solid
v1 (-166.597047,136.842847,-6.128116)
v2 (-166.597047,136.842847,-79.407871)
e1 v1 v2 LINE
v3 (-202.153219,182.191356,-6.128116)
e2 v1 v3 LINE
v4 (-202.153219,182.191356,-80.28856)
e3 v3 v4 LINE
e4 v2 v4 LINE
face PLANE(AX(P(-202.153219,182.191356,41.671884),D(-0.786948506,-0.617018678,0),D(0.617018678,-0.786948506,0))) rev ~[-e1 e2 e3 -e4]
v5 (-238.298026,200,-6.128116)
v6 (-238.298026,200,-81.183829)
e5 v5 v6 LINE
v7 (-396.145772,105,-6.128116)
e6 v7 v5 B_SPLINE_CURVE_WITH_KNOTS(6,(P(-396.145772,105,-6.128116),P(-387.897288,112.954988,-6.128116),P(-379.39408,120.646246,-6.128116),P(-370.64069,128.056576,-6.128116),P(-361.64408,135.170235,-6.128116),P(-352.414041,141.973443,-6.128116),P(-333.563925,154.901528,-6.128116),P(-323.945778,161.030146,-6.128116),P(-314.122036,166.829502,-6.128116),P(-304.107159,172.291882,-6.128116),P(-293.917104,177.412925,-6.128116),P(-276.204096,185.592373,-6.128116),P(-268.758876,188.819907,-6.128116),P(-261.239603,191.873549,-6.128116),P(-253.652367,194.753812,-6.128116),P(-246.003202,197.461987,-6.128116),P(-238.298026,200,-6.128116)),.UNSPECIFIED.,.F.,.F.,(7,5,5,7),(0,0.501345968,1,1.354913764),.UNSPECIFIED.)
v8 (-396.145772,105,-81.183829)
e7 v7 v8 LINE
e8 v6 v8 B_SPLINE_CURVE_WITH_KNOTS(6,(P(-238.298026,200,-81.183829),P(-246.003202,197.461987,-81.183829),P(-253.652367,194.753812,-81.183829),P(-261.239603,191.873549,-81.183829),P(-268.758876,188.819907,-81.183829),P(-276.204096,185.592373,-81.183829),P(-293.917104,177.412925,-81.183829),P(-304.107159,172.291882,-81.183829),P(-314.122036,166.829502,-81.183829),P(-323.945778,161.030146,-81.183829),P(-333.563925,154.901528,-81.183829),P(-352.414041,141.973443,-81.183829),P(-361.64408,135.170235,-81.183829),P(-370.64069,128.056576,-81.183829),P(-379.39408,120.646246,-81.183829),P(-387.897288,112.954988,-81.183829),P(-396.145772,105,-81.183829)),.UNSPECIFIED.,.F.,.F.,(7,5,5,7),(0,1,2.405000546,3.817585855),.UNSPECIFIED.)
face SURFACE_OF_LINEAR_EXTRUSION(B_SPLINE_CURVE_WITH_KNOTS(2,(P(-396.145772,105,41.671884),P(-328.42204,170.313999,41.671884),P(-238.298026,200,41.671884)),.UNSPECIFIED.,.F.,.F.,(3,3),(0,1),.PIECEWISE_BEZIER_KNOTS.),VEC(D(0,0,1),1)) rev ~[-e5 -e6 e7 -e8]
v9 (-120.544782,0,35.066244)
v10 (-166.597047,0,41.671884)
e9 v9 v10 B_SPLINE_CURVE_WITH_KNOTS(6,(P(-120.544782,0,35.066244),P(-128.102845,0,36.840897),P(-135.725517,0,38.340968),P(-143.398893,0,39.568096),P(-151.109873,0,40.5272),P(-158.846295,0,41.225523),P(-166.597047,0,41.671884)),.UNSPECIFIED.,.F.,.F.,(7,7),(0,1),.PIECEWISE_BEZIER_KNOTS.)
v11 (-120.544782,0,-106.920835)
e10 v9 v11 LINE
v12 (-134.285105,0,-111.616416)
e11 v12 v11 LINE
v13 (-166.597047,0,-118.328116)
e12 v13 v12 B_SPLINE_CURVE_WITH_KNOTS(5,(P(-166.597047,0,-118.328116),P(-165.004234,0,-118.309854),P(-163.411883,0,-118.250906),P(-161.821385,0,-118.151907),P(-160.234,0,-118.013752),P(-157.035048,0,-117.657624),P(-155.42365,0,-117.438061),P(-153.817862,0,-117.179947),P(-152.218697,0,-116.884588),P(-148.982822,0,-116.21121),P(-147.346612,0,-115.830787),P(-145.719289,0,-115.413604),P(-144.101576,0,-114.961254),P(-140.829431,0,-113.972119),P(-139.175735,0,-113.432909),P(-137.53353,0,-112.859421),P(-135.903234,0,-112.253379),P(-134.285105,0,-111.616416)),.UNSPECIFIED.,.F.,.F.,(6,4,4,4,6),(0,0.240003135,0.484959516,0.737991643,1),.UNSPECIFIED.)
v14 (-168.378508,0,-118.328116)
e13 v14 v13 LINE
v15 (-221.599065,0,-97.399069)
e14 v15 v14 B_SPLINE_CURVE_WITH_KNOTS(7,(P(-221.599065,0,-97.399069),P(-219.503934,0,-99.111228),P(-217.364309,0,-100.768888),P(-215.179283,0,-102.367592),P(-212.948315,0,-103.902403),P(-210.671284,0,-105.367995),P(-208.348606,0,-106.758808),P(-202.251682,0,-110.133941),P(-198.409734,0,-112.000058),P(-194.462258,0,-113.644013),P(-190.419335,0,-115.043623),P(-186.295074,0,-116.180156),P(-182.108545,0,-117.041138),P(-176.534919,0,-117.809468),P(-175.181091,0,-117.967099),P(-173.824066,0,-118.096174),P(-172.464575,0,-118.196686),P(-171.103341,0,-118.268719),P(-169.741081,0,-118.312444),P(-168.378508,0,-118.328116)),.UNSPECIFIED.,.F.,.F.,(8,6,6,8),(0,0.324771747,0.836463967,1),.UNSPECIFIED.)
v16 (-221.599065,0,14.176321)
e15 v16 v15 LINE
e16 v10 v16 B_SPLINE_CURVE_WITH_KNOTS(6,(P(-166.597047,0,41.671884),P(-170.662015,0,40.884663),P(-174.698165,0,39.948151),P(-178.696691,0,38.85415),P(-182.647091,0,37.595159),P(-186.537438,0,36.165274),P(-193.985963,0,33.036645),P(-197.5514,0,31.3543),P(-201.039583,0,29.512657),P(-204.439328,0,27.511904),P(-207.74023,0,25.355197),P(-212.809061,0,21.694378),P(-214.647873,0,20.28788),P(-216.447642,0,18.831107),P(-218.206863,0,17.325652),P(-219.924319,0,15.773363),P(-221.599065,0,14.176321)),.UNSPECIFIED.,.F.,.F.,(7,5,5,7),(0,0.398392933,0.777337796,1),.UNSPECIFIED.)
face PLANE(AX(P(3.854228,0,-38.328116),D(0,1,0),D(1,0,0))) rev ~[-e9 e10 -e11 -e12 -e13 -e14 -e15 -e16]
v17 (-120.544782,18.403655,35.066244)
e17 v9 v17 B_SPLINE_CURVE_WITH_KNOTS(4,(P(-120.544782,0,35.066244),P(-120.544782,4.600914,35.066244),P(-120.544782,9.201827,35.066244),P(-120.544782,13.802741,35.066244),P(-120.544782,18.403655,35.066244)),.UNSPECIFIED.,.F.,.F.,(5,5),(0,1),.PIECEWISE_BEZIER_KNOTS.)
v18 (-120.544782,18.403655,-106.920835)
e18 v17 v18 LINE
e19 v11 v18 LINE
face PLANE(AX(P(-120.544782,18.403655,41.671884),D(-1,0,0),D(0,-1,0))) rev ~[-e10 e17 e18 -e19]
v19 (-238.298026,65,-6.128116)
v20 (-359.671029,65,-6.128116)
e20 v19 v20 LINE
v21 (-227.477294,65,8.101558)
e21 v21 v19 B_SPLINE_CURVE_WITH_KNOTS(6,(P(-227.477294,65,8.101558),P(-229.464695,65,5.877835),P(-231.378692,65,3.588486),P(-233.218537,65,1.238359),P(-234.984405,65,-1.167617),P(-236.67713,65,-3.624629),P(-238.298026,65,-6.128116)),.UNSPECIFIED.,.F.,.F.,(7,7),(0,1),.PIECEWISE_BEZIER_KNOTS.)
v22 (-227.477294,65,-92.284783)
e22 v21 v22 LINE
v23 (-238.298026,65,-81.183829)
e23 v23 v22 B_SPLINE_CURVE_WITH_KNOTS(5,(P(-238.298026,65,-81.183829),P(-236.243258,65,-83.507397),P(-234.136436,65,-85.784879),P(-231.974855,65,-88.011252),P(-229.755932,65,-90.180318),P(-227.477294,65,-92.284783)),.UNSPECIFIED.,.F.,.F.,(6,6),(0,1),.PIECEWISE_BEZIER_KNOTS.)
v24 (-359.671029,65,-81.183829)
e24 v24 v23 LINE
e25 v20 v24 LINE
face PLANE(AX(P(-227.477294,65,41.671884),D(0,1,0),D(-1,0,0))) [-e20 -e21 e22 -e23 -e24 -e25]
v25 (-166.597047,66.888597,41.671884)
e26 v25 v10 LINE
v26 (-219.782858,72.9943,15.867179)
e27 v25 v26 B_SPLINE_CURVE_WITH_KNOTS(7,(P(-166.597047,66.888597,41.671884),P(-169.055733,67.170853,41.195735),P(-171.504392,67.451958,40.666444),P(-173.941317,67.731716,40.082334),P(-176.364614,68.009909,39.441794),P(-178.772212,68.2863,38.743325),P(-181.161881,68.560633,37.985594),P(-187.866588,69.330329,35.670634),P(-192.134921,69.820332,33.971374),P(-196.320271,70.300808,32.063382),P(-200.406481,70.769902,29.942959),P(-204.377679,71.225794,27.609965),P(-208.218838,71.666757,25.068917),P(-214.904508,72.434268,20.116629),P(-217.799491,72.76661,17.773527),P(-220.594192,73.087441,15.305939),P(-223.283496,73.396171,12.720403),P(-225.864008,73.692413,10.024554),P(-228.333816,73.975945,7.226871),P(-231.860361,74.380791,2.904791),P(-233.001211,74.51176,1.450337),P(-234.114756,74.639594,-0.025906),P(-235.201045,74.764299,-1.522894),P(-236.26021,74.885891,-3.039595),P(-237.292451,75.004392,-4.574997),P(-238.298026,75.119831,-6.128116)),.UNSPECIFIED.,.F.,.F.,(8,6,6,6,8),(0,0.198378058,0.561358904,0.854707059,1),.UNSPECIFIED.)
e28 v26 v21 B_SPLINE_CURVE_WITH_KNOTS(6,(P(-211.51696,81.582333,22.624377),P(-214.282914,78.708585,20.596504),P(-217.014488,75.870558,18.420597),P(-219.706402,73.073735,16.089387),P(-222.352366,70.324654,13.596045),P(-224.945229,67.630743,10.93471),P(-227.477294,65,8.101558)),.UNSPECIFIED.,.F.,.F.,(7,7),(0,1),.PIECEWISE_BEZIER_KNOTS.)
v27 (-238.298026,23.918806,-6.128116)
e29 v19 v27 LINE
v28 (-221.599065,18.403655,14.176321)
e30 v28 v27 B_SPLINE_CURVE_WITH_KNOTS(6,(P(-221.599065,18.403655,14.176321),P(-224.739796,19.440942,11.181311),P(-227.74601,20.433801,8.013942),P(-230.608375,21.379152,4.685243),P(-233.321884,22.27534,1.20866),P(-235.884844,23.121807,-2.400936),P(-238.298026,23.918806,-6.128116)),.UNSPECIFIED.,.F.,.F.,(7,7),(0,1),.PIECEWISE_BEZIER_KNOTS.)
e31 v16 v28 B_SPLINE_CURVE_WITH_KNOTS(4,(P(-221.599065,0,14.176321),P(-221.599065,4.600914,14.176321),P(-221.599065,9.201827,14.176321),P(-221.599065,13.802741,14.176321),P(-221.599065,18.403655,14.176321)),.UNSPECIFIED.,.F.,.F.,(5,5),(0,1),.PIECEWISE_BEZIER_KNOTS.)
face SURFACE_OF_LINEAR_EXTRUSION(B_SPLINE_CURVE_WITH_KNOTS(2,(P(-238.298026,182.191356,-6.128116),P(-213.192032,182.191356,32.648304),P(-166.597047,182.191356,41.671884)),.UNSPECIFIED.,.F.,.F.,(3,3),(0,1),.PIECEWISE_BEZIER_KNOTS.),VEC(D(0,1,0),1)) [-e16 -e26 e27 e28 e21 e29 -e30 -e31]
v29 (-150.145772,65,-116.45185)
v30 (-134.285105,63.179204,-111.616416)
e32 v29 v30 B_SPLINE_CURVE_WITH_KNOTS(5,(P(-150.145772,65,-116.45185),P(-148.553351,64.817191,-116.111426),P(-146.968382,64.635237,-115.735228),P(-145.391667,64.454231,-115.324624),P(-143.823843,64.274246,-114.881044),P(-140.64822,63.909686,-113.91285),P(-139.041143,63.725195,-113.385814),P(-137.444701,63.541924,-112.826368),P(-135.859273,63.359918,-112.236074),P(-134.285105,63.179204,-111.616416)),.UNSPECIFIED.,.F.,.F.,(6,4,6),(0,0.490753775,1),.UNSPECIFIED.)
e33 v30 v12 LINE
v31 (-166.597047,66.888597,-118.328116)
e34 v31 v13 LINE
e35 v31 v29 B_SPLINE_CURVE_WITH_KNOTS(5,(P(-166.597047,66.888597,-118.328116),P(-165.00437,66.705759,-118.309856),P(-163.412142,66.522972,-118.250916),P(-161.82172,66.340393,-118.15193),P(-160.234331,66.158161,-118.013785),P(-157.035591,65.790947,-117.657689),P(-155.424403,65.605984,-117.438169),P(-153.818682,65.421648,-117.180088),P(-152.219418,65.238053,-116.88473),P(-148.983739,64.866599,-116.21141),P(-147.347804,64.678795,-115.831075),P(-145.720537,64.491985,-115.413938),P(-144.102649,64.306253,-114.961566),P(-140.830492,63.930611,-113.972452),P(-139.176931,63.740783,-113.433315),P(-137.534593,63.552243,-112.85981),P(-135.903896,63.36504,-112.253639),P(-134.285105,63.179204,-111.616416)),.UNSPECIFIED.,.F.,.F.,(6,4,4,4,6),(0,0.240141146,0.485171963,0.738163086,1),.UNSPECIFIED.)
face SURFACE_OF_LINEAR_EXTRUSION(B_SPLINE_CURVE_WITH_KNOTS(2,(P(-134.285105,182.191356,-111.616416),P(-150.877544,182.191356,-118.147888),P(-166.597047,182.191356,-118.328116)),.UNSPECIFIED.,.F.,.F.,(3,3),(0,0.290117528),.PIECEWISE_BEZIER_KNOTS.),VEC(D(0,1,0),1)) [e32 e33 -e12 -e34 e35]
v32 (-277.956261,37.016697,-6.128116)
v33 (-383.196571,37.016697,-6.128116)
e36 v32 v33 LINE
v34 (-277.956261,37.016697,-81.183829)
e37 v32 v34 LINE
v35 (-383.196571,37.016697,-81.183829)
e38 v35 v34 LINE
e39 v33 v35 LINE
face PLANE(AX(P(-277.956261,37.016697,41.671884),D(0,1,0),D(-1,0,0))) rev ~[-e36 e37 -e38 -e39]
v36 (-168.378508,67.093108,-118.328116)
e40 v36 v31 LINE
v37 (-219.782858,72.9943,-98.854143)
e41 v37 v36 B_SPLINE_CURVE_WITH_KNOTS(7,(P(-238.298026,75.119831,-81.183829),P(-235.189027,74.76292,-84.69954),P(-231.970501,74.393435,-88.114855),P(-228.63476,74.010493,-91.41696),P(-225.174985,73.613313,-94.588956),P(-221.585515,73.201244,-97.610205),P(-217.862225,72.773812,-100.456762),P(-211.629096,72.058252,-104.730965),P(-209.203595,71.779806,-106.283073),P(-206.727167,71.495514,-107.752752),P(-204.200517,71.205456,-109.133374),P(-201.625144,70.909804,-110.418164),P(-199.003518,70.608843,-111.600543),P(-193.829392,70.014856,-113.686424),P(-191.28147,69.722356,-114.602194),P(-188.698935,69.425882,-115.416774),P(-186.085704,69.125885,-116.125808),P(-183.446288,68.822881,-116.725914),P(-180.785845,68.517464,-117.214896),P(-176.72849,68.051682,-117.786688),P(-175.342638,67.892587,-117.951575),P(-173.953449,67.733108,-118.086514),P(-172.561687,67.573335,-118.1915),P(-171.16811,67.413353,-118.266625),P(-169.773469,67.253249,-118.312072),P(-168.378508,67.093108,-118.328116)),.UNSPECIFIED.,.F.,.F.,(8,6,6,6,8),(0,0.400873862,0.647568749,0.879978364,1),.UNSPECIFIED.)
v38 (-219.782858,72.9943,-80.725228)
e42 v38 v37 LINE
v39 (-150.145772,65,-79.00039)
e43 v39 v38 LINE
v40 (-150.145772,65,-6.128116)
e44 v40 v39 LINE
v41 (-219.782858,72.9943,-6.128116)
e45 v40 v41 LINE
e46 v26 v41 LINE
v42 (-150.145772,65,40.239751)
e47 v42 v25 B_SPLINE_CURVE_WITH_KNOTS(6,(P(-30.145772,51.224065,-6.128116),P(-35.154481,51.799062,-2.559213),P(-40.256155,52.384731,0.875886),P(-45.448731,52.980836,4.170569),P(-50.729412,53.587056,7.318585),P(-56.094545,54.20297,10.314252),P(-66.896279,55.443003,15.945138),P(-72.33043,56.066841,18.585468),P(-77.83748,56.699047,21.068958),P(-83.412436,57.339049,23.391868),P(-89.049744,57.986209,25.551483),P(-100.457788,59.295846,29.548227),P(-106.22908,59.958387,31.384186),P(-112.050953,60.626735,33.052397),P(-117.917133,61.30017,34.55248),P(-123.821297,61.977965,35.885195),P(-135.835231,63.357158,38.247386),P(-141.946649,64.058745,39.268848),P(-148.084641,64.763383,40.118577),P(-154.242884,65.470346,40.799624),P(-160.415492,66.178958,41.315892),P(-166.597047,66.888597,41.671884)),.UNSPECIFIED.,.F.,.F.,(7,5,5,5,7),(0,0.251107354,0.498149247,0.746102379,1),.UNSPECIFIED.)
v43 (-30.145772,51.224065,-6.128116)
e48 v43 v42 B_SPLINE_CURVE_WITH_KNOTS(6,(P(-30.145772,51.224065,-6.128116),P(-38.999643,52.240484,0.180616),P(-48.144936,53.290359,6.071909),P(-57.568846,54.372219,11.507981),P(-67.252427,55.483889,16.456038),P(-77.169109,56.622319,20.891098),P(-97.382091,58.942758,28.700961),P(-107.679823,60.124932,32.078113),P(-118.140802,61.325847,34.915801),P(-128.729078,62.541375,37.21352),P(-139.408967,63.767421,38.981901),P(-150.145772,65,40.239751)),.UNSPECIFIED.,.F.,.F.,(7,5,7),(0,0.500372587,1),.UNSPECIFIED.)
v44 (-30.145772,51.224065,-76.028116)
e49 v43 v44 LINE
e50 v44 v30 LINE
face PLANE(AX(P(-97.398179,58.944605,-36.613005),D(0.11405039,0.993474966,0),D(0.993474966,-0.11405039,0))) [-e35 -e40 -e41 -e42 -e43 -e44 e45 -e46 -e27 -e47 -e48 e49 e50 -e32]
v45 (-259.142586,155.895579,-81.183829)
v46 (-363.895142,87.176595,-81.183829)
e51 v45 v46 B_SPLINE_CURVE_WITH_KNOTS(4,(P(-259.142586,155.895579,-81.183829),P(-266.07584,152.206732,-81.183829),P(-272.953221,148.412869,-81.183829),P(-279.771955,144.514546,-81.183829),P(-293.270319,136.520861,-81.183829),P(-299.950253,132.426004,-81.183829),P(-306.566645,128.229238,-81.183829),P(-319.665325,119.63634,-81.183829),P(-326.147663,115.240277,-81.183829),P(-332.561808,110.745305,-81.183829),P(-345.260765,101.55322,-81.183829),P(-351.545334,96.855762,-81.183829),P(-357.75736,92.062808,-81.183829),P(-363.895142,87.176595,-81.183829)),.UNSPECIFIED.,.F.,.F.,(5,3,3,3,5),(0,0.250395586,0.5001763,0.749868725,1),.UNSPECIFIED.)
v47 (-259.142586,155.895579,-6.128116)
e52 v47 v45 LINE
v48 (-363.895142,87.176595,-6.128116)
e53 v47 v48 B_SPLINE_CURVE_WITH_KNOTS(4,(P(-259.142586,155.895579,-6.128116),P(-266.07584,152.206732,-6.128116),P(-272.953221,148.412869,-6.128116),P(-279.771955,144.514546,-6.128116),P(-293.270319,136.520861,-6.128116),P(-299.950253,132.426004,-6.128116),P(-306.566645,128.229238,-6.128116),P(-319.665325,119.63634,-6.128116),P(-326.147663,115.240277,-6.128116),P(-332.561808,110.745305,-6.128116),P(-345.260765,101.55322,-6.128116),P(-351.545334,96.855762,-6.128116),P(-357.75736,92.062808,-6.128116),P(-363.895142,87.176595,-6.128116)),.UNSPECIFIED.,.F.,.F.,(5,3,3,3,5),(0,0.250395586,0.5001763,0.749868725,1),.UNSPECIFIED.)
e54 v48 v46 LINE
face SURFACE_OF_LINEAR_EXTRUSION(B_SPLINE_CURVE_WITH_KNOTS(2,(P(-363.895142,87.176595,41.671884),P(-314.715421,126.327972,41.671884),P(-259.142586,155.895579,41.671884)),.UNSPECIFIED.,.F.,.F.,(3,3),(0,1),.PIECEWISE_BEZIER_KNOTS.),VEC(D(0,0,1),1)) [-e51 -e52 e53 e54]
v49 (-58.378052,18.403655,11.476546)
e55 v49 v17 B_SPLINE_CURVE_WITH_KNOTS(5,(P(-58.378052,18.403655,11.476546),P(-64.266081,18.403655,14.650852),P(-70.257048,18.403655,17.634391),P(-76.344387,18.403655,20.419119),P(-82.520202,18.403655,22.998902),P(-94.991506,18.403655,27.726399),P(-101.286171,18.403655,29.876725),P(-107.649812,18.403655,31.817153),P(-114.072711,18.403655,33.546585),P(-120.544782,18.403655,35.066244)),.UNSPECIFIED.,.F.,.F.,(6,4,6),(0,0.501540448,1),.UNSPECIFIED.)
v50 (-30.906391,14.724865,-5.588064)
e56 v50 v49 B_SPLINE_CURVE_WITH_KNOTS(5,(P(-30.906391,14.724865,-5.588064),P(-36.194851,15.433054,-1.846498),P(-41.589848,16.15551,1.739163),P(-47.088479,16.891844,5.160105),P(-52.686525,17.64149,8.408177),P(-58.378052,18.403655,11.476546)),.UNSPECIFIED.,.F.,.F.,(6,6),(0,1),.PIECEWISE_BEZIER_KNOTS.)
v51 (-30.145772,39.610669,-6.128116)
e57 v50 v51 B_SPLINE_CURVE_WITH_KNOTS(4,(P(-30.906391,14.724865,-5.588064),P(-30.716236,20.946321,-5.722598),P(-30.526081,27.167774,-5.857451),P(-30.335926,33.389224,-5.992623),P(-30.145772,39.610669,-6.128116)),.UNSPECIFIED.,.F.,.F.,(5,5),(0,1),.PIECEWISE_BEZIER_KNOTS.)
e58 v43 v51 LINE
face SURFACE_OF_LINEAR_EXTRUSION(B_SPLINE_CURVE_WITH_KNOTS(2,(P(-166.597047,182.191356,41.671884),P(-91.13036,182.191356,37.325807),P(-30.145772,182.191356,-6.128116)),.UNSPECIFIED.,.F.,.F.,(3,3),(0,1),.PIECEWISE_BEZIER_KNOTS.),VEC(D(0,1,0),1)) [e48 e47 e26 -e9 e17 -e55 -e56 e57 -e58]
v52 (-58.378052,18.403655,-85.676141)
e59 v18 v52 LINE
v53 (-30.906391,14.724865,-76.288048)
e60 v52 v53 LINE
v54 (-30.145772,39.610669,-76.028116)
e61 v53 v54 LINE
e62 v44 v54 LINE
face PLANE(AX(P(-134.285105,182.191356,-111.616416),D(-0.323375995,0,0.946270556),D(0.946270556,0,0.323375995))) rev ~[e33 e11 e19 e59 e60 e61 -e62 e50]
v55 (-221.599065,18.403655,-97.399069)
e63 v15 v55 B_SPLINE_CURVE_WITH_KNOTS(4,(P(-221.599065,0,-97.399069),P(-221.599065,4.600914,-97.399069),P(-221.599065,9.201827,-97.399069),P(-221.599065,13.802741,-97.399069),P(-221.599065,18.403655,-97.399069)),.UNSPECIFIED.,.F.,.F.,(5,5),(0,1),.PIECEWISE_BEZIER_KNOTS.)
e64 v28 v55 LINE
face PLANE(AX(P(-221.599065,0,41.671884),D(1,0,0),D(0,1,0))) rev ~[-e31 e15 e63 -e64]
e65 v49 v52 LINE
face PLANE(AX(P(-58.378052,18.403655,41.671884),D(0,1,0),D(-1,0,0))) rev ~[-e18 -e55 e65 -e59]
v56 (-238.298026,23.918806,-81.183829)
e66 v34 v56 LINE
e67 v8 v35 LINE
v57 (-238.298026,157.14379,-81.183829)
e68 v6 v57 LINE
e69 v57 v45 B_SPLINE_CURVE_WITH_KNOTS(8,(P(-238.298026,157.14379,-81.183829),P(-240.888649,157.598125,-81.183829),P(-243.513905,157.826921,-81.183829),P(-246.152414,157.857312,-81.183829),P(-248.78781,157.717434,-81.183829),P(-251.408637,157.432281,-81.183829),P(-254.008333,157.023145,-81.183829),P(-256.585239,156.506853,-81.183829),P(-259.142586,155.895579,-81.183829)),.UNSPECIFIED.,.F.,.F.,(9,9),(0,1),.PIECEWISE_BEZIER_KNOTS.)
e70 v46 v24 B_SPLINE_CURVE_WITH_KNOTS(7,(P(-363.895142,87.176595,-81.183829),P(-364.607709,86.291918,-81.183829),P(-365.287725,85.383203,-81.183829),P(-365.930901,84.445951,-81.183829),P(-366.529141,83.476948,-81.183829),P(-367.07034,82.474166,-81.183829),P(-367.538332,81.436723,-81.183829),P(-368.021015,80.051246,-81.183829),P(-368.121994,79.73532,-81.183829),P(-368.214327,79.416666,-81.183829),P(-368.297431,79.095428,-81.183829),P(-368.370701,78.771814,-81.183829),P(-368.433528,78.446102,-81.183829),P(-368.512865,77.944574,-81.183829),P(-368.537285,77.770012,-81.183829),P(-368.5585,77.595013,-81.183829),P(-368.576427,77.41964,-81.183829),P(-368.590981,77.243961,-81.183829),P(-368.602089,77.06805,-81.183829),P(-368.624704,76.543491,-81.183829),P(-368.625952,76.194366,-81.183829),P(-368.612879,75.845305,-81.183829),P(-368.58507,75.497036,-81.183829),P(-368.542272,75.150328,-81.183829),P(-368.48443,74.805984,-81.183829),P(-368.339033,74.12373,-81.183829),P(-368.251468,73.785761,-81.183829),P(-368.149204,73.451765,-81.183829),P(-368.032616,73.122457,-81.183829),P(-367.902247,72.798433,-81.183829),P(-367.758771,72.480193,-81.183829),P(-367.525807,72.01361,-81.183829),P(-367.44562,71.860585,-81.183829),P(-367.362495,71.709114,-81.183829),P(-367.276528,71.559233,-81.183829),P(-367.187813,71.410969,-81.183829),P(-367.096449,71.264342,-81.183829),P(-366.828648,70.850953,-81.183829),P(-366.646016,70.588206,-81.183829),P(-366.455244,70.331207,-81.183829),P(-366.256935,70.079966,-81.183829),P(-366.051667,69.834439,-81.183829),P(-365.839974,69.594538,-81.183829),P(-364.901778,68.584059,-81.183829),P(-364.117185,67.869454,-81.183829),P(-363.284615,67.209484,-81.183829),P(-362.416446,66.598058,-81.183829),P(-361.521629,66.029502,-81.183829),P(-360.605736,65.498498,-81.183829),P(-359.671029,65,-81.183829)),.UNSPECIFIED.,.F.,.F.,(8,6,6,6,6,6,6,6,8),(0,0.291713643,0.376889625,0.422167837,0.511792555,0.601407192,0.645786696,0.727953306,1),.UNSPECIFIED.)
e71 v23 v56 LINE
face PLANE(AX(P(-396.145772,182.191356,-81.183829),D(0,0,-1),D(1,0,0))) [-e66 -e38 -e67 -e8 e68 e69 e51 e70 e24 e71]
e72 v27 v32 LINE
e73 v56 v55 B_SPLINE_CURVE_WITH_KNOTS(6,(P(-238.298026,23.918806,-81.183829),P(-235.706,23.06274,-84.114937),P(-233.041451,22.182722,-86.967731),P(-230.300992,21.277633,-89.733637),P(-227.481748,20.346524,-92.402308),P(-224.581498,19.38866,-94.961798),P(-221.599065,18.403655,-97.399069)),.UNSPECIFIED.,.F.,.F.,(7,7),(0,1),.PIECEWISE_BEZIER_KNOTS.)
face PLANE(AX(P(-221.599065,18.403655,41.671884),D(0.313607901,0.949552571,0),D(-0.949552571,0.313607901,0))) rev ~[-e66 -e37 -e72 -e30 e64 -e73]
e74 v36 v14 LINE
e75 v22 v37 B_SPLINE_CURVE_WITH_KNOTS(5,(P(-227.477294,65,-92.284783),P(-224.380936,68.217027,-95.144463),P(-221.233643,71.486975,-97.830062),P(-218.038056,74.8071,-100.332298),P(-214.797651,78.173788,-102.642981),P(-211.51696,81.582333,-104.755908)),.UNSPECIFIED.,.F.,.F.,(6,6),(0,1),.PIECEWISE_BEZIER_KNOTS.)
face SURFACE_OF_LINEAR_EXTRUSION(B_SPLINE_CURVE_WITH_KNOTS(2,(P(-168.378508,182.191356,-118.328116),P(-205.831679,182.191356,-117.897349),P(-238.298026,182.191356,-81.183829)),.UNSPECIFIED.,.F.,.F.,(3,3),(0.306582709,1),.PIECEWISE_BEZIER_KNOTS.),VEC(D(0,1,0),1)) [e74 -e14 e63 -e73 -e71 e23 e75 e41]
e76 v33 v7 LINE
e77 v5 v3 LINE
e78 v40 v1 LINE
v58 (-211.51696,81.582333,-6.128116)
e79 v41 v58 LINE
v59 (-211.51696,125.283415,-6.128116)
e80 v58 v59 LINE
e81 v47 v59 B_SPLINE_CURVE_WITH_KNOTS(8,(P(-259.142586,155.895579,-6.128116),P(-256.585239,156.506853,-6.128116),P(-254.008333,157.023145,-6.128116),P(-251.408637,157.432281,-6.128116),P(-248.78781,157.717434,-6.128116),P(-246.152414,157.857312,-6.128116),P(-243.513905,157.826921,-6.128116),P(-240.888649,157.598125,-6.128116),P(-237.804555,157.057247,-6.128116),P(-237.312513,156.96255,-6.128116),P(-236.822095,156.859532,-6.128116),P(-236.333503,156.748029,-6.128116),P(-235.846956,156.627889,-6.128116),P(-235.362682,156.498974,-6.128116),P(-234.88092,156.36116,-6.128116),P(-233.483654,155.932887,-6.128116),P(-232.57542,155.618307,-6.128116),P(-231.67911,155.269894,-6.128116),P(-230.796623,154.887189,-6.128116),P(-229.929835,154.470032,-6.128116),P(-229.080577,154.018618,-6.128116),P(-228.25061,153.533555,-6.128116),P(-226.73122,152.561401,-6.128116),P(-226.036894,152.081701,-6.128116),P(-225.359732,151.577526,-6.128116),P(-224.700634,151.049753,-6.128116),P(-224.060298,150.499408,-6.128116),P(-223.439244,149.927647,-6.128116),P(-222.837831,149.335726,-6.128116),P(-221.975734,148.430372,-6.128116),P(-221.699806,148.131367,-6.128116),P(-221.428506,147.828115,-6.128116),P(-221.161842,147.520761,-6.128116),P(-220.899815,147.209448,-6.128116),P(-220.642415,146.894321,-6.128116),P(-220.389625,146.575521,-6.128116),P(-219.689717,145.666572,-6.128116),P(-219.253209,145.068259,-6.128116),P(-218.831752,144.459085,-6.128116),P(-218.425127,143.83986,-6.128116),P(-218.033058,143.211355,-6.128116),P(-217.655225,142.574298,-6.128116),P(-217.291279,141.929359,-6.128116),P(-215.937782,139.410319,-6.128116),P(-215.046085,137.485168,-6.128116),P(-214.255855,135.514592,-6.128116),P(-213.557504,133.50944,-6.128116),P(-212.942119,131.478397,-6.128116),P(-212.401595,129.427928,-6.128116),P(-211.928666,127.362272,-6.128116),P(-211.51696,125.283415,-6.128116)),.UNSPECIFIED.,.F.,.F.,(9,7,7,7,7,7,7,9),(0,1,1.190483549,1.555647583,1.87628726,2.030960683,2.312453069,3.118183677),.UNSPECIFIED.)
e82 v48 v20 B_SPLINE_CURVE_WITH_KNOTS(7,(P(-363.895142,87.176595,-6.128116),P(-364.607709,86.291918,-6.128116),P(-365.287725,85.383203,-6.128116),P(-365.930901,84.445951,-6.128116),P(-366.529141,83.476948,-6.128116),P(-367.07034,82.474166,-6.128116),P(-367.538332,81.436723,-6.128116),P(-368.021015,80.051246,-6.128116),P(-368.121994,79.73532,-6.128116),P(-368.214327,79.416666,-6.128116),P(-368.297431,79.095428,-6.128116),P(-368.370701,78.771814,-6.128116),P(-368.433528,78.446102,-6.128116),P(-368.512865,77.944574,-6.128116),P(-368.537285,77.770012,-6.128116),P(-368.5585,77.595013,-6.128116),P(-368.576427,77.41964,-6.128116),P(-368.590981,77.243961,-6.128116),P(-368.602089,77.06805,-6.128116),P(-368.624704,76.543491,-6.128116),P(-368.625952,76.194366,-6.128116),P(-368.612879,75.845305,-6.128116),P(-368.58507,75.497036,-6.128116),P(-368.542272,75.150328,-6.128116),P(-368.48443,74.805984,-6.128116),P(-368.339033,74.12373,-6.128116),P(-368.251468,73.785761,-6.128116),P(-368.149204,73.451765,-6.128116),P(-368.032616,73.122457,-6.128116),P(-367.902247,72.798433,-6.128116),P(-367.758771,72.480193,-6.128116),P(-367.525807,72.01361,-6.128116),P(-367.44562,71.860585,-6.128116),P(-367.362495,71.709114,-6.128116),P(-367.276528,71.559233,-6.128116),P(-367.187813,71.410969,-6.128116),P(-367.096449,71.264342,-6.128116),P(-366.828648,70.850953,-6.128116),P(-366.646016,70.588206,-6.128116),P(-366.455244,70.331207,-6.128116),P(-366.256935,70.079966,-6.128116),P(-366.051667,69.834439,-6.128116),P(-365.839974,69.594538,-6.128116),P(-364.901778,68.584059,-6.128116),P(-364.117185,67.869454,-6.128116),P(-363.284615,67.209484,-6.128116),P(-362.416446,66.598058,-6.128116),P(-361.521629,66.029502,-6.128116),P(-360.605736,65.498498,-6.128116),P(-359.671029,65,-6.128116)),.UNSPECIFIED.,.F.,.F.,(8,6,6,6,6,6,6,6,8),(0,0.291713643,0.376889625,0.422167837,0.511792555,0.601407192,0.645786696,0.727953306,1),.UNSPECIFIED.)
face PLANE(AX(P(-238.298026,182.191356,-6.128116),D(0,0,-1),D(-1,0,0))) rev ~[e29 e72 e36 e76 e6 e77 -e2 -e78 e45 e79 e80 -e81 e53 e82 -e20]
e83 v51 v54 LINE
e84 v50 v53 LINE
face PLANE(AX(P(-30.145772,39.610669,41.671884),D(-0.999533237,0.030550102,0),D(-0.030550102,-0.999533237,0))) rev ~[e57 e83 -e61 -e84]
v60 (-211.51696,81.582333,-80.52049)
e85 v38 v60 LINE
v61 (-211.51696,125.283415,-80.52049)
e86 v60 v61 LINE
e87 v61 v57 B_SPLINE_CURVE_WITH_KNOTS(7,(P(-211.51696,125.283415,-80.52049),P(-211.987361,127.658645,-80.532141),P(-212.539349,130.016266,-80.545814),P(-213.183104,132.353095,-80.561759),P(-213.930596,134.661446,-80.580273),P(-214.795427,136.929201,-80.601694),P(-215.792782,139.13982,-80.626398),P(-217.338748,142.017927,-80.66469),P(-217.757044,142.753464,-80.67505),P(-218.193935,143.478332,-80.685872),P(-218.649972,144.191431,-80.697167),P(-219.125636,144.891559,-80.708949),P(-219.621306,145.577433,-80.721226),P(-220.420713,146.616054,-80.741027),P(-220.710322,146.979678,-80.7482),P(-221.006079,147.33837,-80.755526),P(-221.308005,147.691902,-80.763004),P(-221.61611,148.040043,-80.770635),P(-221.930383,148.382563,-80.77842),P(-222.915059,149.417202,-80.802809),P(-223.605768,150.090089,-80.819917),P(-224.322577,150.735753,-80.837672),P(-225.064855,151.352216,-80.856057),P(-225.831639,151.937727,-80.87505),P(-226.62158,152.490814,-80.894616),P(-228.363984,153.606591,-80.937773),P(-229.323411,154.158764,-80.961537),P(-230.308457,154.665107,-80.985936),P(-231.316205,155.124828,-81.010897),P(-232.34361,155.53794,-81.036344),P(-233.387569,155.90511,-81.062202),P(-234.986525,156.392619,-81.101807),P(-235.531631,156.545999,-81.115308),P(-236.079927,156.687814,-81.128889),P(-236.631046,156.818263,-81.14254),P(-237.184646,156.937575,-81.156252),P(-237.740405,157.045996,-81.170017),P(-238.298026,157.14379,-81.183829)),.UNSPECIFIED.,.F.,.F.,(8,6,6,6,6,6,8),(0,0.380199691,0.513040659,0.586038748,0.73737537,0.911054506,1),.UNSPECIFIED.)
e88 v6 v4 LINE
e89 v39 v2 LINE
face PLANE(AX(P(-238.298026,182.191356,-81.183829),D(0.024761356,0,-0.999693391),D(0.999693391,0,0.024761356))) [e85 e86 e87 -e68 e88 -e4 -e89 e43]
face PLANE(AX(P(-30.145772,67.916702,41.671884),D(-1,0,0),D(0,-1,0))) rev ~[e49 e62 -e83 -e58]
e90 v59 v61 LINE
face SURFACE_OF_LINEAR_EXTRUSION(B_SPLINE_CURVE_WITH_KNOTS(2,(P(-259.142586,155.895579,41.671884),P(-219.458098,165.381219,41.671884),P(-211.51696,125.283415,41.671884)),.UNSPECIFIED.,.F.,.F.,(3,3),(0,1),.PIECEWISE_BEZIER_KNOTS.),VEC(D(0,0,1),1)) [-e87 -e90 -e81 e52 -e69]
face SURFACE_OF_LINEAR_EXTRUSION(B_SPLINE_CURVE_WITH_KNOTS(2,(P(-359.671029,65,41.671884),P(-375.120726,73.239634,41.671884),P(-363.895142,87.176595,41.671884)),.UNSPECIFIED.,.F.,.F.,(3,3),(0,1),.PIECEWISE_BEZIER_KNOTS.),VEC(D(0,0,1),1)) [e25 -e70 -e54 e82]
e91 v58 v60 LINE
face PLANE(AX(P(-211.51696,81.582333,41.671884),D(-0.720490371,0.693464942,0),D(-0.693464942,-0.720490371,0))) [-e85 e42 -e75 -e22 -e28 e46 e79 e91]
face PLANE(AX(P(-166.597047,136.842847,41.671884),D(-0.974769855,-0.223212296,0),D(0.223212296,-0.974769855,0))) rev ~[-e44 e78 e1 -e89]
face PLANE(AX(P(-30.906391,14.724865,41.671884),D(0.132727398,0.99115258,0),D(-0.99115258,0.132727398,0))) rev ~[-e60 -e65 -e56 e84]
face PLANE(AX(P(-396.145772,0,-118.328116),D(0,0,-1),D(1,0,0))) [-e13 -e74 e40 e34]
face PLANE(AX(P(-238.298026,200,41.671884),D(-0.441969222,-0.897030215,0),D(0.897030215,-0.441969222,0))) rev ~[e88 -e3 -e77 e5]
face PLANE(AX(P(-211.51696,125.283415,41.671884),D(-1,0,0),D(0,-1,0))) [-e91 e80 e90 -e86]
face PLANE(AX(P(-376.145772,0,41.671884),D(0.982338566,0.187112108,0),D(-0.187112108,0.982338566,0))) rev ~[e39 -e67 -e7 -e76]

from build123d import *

# Parameters (mm, degrees)
SKETCH1_W                       = 800
SKETCH1_H                       = 160
BOSS_EXTRUDE1_DEPTH             = 200
SKETCH2_OUTSIDE_W               = 970
SKETCH2_OUTSIDE_H               = 370
CUT_EXTRUDE1_DEPTH              = 210
CUT_EXTRUDE2_DEPTH              = 210
CUT_EXTRUDE3_DEPTH              = 210
CUT_EXTRUDE14_DEPTH             = 180.8
CUT_EXTRUDE16_DEPTH             = 180.8
CUT_EXTRUDE16_DEPTH_BACK        = 190.8
CUT_EXTRUDE17_DEPTH             = 180.8
CUT_EXTRUDE17_DEPTH_BACK        = 200.8
CUT_EXTRUDE18_REACH             = 184.191
CUT_EXTRUDE18_DIRECTION_2_DEPTH = 200.8


with BuildPart() as part:
    # Sketch1 → Boss-Extrude1 (new body)
    with BuildSketch(Plane(origin=(0, 0, 0), x_dir=(1, 0, 0), z_dir=(0, 1, 0))):
        with Locations((3.854228083, 38.328115975)):
            Rectangle(SKETCH1_W, SKETCH1_H)
    extrude(amount=BOSS_EXTRUDE1_DEPTH)

    # Sketch2 outside → Cut-Extrude1 (cut)
    with BuildSketch(Plane.XY.offset(41.671884025)):
        with Locations((3.854, 100)):
            Rectangle(SKETCH2_OUTSIDE_W, SKETCH2_OUTSIDE_H)
        with BuildLine():
            Line((-376.145771917, 0), (-396.145771917, 105))
            add(Edge.make_bspline(
                [(-396.145771917, 105), (-328.42203974, 170.31399873), (-238.298025694, 200)],
                knots=[0, 0, 0, 1, 1, 1], degree=2))
            Line((-238.298025694, 200), (-202.15321923, 182.191355743))
            Line((-202.15321923, 182.191355743), (-166.597046862, 136.842847328))
            Line((-166.597046862, 136.842847328), (-150.145771917, 65))
            Line((-150.145771917, 65), (-30.145771917, 51.22406477))
            Line((-30.145771917, 51.22406477), (403.854228083, 25.4))
            Line((403.854228083, 25.4), (403.854228083, 0))
            Line((403.854228083, 0), (-376.145771917, 0))
        make_face(mode=Mode.SUBTRACT)
        with BuildLine():
            Line((-211.516960473, 125.283414587), (-211.516960473, 81.582332534))
            Line((-211.516960473, 81.582332534), (-227.477293515, 65))
            Line((-227.477293515, 65), (-359.671028655, 65))
            add(Edge.make_bspline(
                [(-359.671028655, 65), (-375.120725506, 73.239634223), (-363.895142009, 87.176595106)],
                knots=[0, 0, 0, 1, 1, 1], degree=2))
            add(Edge.make_bspline(
                [(-363.895142009, 87.176595106), (-314.715420644, 126.327972018), (-259.142586364, 155.895579394)],
                knots=[0, 0, 0, 1, 1, 1], degree=2))
            add(Edge.make_bspline(
                [(-259.142586364, 155.895579394), (-219.458098431, 165.381218899), (-211.516960473, 125.283414587)],
                knots=[0, 0, 0, 1, 1, 1], degree=2))
        make_face()
    extrude(amount=-CUT_EXTRUDE1_DEPTH, mode=Mode.SUBTRACT)

    # Sketch4 → Cut-Extrude2 (cut)
    with BuildSketch(Plane.XY.offset(41.671884025)):
        Polygon((-277.956260832, 37.01669692), (-383.196571331, 37.01669692), (-376.145771917, 0), (-221.599064851, 0), (-221.599064851, 18.403654878), align=None)
        Polygon((-120.544782401, 18.403654878), (-120.544782401, 0), (-30.906390802, 0), (-30.906390802, 14.724864973), (-58.3780519, 18.403654878), align=None)
    extrude(amount=-CUT_EXTRUDE2_DEPTH, mode=Mode.SUBTRACT)

    # Sketch5 → Cut-Extrude3 (cut)
    with BuildSketch(Plane.XY.offset(41.671884025)):
        Polygon((-30.906390802, 14.724864973), (403.854228083, 0), (-30.906390802, 0), align=None)
    extrude(amount=-CUT_EXTRUDE3_DEPTH, mode=Mode.SUBTRACT)

    # Sketch18 → Cut-Extrude14 (cut)
    with BuildSketch(Plane.XY.offset(41.671884025)):
        Polygon((-30.145771917, 39.610669398), (-30.906390802, 14.724864973), (428.920649615, -48.757692213), (545.595043402, 67.916701575), (-30.145771917, 67.916701575), align=None)
    extrude(amount=-CUT_EXTRUDE14_DEPTH, mode=Mode.SUBTRACT)

    # Sketch19 → Cut-Extrude16 (cut, two sides)
    with BuildSketch(Plane(origin=(0, 182.191355743, 0), x_dir=(1, 0, 0), z_dir=(0, 1, 0))) as cut_extrude16_sk:
        with BuildLine():
            add(Edge.make_bspline(
                [(-238.298025694, 6.128115975), (-213.192031563, -32.648304069), (-166.597046862, -41.671884025)],
                knots=[0, 0, 0, 1, 1, 1], degree=2))
            Line((-238.298025694, 6.128115975), (-396.145771917, 6.128115975))
            Line((-396.145771917, 6.128115975), (-396.145771917, -41.671884025))
            Line((-396.145771917, -41.671884025), (-166.597046862, -41.671884025))
        make_face()
        with BuildLine():
            Line((-30.145771917, -41.671884025), (-30.145771917, 6.128115975))
            add(Edge.make_bspline(
                [(-166.597046862, -41.671884025), (-91.130359602, -37.325806898), (-30.145771917, 6.128115975)],
                knots=[0, 0, 0, 1, 1, 1], degree=2))
            Line((-166.597046862, -41.671884025), (-30.145771917, -41.671884025))
        make_face()
    extrude(amount=CUT_EXTRUDE16_DEPTH, mode=Mode.SUBTRACT)
    extrude(cut_extrude16_sk.sketch, amount=-CUT_EXTRUDE16_DEPTH_BACK, mode=Mode.SUBTRACT)

    # Sketch20 → Cut-Extrude17 (cut, two sides)
    with BuildSketch(Plane(origin=(0, 182.191355743, 0), x_dir=(1, 0, 0), z_dir=(0, 1, 0))) as cut_extrude17_sk:
        with BuildLine():
            Line((-396.145771917, 81.183828909), (-238.298025694, 81.183828909))
            add(Edge.make_bspline(
                [(-168.378508208, 118.328115975), (-205.831679422, 117.897349331), (-238.298025694, 81.183828909)],
                knots=[0.306582709, 0.306582709, 0.306582709, 1, 1, 1], degree=2))
            Line((-168.378508208, 118.328115975), (-396.145771917, 118.328115975))
            Line((-396.145771917, 118.328115975), (-396.145771917, 81.183828909))
        make_face()
        with BuildLine():
            Line((-134.285105115, 111.616416024), (-30.145771917, 76.028115975))
            Line((-30.145771917, 76.028115975), (-30.145771917, 118.328115975))
            Line((-30.145771917, 118.328115975), (-166.597046862, 118.328115975))
            add(Edge.make_bspline(
                [(-134.285105115, 111.616416024), (-150.877544313, 118.147888346), (-166.597046862, 118.328115975)],
                knots=[0, 0, 0, 0.290117528, 0.290117528, 0.290117528], degree=2))
        make_face()
    extrude(amount=CUT_EXTRUDE17_DEPTH, mode=Mode.SUBTRACT)
    extrude(cut_extrude17_sk.sketch, amount=-CUT_EXTRUDE17_DEPTH_BACK, mode=Mode.SUBTRACT)

    # Cut-Extrude18: up to this face of the body (flat: up to its plane)
    cut_extrude18_end = Plane(part.part.faces().sort_by_distance((-97.398178535, 58.94460475, -36.613004679))[0])
    # Sketch21 → Cut-Extrude18 (cut, up to the picked face)
    with BuildSketch(Plane(origin=(0, 182.191355743, 0), x_dir=(1, 0, 0), z_dir=(0, 1, 0)), mode=Mode.PRIVATE) as cut_extrude18_sk1:
        Polygon((-238.298025694, 81.183828909), (-30.145771917, 76.028115975), (-30.145771917, 124.841771597), (-244.744601957, 124.841771597), align=None)
    cut_extrude18_tool1 = split(extrude(cut_extrude18_sk1.sketch, amount=-CUT_EXTRUDE18_REACH, mode=Mode.PRIVATE), bisect_by=cut_extrude18_end, keep=Keep.BOTH, mode=Mode.PRIVATE)
    add(cut_extrude18_tool1.solids().sort_by_distance((-133.846358, 182.191356, -101.823698))[0], mode=Mode.SUBTRACT)
    # Sketch21 → Cut-Extrude18 (cut, up to the picked face)
    with BuildSketch(Plane(origin=(0, 182.191355743, 0), x_dir=(1, 0, 0), z_dir=(0, 1, 0)), mode=Mode.PRIVATE) as cut_extrude18_sk2:
        Polygon((-238.298025694, 6.128115975), (-30.145771917, 6.128115975), (-30.145771917, -32.297232434), (-30.145771917, -55.493942553), (-238.298025694, -55.493942553), align=None)
    cut_extrude18_tool2 = split(extrude(cut_extrude18_sk2.sketch, amount=-CUT_EXTRUDE18_REACH, mode=Mode.PRIVATE), bisect_by=cut_extrude18_end, keep=Keep.BOTH, mode=Mode.PRIVATE)
    add(cut_extrude18_tool2.solids().sort_by_distance((-134.221899, 182.191356, 24.682913))[0], mode=Mode.SUBTRACT)

    # Sketch21 → Cut-Extrude18 direction 2 (cut)
    with BuildSketch(Plane(origin=(0, 182.191355743, 0), x_dir=(1, 0, 0), z_dir=(0, 1, 0))):
        Polygon((-238.298025694, 81.183828909), (-30.145771917, 76.028115975), (-30.145771917, 124.841771597), (-244.744601957, 124.841771597), align=None)
        Polygon((-238.298025694, 6.128115975), (-30.145771917, 6.128115975), (-30.145771917, -32.297232434), (-30.145771917, -55.493942553), (-238.298025694, -55.493942553), align=None)
    extrude(amount=CUT_EXTRUDE18_DIRECTION_2_DEPTH, mode=Mode.SUBTRACT)


solid = part.part
